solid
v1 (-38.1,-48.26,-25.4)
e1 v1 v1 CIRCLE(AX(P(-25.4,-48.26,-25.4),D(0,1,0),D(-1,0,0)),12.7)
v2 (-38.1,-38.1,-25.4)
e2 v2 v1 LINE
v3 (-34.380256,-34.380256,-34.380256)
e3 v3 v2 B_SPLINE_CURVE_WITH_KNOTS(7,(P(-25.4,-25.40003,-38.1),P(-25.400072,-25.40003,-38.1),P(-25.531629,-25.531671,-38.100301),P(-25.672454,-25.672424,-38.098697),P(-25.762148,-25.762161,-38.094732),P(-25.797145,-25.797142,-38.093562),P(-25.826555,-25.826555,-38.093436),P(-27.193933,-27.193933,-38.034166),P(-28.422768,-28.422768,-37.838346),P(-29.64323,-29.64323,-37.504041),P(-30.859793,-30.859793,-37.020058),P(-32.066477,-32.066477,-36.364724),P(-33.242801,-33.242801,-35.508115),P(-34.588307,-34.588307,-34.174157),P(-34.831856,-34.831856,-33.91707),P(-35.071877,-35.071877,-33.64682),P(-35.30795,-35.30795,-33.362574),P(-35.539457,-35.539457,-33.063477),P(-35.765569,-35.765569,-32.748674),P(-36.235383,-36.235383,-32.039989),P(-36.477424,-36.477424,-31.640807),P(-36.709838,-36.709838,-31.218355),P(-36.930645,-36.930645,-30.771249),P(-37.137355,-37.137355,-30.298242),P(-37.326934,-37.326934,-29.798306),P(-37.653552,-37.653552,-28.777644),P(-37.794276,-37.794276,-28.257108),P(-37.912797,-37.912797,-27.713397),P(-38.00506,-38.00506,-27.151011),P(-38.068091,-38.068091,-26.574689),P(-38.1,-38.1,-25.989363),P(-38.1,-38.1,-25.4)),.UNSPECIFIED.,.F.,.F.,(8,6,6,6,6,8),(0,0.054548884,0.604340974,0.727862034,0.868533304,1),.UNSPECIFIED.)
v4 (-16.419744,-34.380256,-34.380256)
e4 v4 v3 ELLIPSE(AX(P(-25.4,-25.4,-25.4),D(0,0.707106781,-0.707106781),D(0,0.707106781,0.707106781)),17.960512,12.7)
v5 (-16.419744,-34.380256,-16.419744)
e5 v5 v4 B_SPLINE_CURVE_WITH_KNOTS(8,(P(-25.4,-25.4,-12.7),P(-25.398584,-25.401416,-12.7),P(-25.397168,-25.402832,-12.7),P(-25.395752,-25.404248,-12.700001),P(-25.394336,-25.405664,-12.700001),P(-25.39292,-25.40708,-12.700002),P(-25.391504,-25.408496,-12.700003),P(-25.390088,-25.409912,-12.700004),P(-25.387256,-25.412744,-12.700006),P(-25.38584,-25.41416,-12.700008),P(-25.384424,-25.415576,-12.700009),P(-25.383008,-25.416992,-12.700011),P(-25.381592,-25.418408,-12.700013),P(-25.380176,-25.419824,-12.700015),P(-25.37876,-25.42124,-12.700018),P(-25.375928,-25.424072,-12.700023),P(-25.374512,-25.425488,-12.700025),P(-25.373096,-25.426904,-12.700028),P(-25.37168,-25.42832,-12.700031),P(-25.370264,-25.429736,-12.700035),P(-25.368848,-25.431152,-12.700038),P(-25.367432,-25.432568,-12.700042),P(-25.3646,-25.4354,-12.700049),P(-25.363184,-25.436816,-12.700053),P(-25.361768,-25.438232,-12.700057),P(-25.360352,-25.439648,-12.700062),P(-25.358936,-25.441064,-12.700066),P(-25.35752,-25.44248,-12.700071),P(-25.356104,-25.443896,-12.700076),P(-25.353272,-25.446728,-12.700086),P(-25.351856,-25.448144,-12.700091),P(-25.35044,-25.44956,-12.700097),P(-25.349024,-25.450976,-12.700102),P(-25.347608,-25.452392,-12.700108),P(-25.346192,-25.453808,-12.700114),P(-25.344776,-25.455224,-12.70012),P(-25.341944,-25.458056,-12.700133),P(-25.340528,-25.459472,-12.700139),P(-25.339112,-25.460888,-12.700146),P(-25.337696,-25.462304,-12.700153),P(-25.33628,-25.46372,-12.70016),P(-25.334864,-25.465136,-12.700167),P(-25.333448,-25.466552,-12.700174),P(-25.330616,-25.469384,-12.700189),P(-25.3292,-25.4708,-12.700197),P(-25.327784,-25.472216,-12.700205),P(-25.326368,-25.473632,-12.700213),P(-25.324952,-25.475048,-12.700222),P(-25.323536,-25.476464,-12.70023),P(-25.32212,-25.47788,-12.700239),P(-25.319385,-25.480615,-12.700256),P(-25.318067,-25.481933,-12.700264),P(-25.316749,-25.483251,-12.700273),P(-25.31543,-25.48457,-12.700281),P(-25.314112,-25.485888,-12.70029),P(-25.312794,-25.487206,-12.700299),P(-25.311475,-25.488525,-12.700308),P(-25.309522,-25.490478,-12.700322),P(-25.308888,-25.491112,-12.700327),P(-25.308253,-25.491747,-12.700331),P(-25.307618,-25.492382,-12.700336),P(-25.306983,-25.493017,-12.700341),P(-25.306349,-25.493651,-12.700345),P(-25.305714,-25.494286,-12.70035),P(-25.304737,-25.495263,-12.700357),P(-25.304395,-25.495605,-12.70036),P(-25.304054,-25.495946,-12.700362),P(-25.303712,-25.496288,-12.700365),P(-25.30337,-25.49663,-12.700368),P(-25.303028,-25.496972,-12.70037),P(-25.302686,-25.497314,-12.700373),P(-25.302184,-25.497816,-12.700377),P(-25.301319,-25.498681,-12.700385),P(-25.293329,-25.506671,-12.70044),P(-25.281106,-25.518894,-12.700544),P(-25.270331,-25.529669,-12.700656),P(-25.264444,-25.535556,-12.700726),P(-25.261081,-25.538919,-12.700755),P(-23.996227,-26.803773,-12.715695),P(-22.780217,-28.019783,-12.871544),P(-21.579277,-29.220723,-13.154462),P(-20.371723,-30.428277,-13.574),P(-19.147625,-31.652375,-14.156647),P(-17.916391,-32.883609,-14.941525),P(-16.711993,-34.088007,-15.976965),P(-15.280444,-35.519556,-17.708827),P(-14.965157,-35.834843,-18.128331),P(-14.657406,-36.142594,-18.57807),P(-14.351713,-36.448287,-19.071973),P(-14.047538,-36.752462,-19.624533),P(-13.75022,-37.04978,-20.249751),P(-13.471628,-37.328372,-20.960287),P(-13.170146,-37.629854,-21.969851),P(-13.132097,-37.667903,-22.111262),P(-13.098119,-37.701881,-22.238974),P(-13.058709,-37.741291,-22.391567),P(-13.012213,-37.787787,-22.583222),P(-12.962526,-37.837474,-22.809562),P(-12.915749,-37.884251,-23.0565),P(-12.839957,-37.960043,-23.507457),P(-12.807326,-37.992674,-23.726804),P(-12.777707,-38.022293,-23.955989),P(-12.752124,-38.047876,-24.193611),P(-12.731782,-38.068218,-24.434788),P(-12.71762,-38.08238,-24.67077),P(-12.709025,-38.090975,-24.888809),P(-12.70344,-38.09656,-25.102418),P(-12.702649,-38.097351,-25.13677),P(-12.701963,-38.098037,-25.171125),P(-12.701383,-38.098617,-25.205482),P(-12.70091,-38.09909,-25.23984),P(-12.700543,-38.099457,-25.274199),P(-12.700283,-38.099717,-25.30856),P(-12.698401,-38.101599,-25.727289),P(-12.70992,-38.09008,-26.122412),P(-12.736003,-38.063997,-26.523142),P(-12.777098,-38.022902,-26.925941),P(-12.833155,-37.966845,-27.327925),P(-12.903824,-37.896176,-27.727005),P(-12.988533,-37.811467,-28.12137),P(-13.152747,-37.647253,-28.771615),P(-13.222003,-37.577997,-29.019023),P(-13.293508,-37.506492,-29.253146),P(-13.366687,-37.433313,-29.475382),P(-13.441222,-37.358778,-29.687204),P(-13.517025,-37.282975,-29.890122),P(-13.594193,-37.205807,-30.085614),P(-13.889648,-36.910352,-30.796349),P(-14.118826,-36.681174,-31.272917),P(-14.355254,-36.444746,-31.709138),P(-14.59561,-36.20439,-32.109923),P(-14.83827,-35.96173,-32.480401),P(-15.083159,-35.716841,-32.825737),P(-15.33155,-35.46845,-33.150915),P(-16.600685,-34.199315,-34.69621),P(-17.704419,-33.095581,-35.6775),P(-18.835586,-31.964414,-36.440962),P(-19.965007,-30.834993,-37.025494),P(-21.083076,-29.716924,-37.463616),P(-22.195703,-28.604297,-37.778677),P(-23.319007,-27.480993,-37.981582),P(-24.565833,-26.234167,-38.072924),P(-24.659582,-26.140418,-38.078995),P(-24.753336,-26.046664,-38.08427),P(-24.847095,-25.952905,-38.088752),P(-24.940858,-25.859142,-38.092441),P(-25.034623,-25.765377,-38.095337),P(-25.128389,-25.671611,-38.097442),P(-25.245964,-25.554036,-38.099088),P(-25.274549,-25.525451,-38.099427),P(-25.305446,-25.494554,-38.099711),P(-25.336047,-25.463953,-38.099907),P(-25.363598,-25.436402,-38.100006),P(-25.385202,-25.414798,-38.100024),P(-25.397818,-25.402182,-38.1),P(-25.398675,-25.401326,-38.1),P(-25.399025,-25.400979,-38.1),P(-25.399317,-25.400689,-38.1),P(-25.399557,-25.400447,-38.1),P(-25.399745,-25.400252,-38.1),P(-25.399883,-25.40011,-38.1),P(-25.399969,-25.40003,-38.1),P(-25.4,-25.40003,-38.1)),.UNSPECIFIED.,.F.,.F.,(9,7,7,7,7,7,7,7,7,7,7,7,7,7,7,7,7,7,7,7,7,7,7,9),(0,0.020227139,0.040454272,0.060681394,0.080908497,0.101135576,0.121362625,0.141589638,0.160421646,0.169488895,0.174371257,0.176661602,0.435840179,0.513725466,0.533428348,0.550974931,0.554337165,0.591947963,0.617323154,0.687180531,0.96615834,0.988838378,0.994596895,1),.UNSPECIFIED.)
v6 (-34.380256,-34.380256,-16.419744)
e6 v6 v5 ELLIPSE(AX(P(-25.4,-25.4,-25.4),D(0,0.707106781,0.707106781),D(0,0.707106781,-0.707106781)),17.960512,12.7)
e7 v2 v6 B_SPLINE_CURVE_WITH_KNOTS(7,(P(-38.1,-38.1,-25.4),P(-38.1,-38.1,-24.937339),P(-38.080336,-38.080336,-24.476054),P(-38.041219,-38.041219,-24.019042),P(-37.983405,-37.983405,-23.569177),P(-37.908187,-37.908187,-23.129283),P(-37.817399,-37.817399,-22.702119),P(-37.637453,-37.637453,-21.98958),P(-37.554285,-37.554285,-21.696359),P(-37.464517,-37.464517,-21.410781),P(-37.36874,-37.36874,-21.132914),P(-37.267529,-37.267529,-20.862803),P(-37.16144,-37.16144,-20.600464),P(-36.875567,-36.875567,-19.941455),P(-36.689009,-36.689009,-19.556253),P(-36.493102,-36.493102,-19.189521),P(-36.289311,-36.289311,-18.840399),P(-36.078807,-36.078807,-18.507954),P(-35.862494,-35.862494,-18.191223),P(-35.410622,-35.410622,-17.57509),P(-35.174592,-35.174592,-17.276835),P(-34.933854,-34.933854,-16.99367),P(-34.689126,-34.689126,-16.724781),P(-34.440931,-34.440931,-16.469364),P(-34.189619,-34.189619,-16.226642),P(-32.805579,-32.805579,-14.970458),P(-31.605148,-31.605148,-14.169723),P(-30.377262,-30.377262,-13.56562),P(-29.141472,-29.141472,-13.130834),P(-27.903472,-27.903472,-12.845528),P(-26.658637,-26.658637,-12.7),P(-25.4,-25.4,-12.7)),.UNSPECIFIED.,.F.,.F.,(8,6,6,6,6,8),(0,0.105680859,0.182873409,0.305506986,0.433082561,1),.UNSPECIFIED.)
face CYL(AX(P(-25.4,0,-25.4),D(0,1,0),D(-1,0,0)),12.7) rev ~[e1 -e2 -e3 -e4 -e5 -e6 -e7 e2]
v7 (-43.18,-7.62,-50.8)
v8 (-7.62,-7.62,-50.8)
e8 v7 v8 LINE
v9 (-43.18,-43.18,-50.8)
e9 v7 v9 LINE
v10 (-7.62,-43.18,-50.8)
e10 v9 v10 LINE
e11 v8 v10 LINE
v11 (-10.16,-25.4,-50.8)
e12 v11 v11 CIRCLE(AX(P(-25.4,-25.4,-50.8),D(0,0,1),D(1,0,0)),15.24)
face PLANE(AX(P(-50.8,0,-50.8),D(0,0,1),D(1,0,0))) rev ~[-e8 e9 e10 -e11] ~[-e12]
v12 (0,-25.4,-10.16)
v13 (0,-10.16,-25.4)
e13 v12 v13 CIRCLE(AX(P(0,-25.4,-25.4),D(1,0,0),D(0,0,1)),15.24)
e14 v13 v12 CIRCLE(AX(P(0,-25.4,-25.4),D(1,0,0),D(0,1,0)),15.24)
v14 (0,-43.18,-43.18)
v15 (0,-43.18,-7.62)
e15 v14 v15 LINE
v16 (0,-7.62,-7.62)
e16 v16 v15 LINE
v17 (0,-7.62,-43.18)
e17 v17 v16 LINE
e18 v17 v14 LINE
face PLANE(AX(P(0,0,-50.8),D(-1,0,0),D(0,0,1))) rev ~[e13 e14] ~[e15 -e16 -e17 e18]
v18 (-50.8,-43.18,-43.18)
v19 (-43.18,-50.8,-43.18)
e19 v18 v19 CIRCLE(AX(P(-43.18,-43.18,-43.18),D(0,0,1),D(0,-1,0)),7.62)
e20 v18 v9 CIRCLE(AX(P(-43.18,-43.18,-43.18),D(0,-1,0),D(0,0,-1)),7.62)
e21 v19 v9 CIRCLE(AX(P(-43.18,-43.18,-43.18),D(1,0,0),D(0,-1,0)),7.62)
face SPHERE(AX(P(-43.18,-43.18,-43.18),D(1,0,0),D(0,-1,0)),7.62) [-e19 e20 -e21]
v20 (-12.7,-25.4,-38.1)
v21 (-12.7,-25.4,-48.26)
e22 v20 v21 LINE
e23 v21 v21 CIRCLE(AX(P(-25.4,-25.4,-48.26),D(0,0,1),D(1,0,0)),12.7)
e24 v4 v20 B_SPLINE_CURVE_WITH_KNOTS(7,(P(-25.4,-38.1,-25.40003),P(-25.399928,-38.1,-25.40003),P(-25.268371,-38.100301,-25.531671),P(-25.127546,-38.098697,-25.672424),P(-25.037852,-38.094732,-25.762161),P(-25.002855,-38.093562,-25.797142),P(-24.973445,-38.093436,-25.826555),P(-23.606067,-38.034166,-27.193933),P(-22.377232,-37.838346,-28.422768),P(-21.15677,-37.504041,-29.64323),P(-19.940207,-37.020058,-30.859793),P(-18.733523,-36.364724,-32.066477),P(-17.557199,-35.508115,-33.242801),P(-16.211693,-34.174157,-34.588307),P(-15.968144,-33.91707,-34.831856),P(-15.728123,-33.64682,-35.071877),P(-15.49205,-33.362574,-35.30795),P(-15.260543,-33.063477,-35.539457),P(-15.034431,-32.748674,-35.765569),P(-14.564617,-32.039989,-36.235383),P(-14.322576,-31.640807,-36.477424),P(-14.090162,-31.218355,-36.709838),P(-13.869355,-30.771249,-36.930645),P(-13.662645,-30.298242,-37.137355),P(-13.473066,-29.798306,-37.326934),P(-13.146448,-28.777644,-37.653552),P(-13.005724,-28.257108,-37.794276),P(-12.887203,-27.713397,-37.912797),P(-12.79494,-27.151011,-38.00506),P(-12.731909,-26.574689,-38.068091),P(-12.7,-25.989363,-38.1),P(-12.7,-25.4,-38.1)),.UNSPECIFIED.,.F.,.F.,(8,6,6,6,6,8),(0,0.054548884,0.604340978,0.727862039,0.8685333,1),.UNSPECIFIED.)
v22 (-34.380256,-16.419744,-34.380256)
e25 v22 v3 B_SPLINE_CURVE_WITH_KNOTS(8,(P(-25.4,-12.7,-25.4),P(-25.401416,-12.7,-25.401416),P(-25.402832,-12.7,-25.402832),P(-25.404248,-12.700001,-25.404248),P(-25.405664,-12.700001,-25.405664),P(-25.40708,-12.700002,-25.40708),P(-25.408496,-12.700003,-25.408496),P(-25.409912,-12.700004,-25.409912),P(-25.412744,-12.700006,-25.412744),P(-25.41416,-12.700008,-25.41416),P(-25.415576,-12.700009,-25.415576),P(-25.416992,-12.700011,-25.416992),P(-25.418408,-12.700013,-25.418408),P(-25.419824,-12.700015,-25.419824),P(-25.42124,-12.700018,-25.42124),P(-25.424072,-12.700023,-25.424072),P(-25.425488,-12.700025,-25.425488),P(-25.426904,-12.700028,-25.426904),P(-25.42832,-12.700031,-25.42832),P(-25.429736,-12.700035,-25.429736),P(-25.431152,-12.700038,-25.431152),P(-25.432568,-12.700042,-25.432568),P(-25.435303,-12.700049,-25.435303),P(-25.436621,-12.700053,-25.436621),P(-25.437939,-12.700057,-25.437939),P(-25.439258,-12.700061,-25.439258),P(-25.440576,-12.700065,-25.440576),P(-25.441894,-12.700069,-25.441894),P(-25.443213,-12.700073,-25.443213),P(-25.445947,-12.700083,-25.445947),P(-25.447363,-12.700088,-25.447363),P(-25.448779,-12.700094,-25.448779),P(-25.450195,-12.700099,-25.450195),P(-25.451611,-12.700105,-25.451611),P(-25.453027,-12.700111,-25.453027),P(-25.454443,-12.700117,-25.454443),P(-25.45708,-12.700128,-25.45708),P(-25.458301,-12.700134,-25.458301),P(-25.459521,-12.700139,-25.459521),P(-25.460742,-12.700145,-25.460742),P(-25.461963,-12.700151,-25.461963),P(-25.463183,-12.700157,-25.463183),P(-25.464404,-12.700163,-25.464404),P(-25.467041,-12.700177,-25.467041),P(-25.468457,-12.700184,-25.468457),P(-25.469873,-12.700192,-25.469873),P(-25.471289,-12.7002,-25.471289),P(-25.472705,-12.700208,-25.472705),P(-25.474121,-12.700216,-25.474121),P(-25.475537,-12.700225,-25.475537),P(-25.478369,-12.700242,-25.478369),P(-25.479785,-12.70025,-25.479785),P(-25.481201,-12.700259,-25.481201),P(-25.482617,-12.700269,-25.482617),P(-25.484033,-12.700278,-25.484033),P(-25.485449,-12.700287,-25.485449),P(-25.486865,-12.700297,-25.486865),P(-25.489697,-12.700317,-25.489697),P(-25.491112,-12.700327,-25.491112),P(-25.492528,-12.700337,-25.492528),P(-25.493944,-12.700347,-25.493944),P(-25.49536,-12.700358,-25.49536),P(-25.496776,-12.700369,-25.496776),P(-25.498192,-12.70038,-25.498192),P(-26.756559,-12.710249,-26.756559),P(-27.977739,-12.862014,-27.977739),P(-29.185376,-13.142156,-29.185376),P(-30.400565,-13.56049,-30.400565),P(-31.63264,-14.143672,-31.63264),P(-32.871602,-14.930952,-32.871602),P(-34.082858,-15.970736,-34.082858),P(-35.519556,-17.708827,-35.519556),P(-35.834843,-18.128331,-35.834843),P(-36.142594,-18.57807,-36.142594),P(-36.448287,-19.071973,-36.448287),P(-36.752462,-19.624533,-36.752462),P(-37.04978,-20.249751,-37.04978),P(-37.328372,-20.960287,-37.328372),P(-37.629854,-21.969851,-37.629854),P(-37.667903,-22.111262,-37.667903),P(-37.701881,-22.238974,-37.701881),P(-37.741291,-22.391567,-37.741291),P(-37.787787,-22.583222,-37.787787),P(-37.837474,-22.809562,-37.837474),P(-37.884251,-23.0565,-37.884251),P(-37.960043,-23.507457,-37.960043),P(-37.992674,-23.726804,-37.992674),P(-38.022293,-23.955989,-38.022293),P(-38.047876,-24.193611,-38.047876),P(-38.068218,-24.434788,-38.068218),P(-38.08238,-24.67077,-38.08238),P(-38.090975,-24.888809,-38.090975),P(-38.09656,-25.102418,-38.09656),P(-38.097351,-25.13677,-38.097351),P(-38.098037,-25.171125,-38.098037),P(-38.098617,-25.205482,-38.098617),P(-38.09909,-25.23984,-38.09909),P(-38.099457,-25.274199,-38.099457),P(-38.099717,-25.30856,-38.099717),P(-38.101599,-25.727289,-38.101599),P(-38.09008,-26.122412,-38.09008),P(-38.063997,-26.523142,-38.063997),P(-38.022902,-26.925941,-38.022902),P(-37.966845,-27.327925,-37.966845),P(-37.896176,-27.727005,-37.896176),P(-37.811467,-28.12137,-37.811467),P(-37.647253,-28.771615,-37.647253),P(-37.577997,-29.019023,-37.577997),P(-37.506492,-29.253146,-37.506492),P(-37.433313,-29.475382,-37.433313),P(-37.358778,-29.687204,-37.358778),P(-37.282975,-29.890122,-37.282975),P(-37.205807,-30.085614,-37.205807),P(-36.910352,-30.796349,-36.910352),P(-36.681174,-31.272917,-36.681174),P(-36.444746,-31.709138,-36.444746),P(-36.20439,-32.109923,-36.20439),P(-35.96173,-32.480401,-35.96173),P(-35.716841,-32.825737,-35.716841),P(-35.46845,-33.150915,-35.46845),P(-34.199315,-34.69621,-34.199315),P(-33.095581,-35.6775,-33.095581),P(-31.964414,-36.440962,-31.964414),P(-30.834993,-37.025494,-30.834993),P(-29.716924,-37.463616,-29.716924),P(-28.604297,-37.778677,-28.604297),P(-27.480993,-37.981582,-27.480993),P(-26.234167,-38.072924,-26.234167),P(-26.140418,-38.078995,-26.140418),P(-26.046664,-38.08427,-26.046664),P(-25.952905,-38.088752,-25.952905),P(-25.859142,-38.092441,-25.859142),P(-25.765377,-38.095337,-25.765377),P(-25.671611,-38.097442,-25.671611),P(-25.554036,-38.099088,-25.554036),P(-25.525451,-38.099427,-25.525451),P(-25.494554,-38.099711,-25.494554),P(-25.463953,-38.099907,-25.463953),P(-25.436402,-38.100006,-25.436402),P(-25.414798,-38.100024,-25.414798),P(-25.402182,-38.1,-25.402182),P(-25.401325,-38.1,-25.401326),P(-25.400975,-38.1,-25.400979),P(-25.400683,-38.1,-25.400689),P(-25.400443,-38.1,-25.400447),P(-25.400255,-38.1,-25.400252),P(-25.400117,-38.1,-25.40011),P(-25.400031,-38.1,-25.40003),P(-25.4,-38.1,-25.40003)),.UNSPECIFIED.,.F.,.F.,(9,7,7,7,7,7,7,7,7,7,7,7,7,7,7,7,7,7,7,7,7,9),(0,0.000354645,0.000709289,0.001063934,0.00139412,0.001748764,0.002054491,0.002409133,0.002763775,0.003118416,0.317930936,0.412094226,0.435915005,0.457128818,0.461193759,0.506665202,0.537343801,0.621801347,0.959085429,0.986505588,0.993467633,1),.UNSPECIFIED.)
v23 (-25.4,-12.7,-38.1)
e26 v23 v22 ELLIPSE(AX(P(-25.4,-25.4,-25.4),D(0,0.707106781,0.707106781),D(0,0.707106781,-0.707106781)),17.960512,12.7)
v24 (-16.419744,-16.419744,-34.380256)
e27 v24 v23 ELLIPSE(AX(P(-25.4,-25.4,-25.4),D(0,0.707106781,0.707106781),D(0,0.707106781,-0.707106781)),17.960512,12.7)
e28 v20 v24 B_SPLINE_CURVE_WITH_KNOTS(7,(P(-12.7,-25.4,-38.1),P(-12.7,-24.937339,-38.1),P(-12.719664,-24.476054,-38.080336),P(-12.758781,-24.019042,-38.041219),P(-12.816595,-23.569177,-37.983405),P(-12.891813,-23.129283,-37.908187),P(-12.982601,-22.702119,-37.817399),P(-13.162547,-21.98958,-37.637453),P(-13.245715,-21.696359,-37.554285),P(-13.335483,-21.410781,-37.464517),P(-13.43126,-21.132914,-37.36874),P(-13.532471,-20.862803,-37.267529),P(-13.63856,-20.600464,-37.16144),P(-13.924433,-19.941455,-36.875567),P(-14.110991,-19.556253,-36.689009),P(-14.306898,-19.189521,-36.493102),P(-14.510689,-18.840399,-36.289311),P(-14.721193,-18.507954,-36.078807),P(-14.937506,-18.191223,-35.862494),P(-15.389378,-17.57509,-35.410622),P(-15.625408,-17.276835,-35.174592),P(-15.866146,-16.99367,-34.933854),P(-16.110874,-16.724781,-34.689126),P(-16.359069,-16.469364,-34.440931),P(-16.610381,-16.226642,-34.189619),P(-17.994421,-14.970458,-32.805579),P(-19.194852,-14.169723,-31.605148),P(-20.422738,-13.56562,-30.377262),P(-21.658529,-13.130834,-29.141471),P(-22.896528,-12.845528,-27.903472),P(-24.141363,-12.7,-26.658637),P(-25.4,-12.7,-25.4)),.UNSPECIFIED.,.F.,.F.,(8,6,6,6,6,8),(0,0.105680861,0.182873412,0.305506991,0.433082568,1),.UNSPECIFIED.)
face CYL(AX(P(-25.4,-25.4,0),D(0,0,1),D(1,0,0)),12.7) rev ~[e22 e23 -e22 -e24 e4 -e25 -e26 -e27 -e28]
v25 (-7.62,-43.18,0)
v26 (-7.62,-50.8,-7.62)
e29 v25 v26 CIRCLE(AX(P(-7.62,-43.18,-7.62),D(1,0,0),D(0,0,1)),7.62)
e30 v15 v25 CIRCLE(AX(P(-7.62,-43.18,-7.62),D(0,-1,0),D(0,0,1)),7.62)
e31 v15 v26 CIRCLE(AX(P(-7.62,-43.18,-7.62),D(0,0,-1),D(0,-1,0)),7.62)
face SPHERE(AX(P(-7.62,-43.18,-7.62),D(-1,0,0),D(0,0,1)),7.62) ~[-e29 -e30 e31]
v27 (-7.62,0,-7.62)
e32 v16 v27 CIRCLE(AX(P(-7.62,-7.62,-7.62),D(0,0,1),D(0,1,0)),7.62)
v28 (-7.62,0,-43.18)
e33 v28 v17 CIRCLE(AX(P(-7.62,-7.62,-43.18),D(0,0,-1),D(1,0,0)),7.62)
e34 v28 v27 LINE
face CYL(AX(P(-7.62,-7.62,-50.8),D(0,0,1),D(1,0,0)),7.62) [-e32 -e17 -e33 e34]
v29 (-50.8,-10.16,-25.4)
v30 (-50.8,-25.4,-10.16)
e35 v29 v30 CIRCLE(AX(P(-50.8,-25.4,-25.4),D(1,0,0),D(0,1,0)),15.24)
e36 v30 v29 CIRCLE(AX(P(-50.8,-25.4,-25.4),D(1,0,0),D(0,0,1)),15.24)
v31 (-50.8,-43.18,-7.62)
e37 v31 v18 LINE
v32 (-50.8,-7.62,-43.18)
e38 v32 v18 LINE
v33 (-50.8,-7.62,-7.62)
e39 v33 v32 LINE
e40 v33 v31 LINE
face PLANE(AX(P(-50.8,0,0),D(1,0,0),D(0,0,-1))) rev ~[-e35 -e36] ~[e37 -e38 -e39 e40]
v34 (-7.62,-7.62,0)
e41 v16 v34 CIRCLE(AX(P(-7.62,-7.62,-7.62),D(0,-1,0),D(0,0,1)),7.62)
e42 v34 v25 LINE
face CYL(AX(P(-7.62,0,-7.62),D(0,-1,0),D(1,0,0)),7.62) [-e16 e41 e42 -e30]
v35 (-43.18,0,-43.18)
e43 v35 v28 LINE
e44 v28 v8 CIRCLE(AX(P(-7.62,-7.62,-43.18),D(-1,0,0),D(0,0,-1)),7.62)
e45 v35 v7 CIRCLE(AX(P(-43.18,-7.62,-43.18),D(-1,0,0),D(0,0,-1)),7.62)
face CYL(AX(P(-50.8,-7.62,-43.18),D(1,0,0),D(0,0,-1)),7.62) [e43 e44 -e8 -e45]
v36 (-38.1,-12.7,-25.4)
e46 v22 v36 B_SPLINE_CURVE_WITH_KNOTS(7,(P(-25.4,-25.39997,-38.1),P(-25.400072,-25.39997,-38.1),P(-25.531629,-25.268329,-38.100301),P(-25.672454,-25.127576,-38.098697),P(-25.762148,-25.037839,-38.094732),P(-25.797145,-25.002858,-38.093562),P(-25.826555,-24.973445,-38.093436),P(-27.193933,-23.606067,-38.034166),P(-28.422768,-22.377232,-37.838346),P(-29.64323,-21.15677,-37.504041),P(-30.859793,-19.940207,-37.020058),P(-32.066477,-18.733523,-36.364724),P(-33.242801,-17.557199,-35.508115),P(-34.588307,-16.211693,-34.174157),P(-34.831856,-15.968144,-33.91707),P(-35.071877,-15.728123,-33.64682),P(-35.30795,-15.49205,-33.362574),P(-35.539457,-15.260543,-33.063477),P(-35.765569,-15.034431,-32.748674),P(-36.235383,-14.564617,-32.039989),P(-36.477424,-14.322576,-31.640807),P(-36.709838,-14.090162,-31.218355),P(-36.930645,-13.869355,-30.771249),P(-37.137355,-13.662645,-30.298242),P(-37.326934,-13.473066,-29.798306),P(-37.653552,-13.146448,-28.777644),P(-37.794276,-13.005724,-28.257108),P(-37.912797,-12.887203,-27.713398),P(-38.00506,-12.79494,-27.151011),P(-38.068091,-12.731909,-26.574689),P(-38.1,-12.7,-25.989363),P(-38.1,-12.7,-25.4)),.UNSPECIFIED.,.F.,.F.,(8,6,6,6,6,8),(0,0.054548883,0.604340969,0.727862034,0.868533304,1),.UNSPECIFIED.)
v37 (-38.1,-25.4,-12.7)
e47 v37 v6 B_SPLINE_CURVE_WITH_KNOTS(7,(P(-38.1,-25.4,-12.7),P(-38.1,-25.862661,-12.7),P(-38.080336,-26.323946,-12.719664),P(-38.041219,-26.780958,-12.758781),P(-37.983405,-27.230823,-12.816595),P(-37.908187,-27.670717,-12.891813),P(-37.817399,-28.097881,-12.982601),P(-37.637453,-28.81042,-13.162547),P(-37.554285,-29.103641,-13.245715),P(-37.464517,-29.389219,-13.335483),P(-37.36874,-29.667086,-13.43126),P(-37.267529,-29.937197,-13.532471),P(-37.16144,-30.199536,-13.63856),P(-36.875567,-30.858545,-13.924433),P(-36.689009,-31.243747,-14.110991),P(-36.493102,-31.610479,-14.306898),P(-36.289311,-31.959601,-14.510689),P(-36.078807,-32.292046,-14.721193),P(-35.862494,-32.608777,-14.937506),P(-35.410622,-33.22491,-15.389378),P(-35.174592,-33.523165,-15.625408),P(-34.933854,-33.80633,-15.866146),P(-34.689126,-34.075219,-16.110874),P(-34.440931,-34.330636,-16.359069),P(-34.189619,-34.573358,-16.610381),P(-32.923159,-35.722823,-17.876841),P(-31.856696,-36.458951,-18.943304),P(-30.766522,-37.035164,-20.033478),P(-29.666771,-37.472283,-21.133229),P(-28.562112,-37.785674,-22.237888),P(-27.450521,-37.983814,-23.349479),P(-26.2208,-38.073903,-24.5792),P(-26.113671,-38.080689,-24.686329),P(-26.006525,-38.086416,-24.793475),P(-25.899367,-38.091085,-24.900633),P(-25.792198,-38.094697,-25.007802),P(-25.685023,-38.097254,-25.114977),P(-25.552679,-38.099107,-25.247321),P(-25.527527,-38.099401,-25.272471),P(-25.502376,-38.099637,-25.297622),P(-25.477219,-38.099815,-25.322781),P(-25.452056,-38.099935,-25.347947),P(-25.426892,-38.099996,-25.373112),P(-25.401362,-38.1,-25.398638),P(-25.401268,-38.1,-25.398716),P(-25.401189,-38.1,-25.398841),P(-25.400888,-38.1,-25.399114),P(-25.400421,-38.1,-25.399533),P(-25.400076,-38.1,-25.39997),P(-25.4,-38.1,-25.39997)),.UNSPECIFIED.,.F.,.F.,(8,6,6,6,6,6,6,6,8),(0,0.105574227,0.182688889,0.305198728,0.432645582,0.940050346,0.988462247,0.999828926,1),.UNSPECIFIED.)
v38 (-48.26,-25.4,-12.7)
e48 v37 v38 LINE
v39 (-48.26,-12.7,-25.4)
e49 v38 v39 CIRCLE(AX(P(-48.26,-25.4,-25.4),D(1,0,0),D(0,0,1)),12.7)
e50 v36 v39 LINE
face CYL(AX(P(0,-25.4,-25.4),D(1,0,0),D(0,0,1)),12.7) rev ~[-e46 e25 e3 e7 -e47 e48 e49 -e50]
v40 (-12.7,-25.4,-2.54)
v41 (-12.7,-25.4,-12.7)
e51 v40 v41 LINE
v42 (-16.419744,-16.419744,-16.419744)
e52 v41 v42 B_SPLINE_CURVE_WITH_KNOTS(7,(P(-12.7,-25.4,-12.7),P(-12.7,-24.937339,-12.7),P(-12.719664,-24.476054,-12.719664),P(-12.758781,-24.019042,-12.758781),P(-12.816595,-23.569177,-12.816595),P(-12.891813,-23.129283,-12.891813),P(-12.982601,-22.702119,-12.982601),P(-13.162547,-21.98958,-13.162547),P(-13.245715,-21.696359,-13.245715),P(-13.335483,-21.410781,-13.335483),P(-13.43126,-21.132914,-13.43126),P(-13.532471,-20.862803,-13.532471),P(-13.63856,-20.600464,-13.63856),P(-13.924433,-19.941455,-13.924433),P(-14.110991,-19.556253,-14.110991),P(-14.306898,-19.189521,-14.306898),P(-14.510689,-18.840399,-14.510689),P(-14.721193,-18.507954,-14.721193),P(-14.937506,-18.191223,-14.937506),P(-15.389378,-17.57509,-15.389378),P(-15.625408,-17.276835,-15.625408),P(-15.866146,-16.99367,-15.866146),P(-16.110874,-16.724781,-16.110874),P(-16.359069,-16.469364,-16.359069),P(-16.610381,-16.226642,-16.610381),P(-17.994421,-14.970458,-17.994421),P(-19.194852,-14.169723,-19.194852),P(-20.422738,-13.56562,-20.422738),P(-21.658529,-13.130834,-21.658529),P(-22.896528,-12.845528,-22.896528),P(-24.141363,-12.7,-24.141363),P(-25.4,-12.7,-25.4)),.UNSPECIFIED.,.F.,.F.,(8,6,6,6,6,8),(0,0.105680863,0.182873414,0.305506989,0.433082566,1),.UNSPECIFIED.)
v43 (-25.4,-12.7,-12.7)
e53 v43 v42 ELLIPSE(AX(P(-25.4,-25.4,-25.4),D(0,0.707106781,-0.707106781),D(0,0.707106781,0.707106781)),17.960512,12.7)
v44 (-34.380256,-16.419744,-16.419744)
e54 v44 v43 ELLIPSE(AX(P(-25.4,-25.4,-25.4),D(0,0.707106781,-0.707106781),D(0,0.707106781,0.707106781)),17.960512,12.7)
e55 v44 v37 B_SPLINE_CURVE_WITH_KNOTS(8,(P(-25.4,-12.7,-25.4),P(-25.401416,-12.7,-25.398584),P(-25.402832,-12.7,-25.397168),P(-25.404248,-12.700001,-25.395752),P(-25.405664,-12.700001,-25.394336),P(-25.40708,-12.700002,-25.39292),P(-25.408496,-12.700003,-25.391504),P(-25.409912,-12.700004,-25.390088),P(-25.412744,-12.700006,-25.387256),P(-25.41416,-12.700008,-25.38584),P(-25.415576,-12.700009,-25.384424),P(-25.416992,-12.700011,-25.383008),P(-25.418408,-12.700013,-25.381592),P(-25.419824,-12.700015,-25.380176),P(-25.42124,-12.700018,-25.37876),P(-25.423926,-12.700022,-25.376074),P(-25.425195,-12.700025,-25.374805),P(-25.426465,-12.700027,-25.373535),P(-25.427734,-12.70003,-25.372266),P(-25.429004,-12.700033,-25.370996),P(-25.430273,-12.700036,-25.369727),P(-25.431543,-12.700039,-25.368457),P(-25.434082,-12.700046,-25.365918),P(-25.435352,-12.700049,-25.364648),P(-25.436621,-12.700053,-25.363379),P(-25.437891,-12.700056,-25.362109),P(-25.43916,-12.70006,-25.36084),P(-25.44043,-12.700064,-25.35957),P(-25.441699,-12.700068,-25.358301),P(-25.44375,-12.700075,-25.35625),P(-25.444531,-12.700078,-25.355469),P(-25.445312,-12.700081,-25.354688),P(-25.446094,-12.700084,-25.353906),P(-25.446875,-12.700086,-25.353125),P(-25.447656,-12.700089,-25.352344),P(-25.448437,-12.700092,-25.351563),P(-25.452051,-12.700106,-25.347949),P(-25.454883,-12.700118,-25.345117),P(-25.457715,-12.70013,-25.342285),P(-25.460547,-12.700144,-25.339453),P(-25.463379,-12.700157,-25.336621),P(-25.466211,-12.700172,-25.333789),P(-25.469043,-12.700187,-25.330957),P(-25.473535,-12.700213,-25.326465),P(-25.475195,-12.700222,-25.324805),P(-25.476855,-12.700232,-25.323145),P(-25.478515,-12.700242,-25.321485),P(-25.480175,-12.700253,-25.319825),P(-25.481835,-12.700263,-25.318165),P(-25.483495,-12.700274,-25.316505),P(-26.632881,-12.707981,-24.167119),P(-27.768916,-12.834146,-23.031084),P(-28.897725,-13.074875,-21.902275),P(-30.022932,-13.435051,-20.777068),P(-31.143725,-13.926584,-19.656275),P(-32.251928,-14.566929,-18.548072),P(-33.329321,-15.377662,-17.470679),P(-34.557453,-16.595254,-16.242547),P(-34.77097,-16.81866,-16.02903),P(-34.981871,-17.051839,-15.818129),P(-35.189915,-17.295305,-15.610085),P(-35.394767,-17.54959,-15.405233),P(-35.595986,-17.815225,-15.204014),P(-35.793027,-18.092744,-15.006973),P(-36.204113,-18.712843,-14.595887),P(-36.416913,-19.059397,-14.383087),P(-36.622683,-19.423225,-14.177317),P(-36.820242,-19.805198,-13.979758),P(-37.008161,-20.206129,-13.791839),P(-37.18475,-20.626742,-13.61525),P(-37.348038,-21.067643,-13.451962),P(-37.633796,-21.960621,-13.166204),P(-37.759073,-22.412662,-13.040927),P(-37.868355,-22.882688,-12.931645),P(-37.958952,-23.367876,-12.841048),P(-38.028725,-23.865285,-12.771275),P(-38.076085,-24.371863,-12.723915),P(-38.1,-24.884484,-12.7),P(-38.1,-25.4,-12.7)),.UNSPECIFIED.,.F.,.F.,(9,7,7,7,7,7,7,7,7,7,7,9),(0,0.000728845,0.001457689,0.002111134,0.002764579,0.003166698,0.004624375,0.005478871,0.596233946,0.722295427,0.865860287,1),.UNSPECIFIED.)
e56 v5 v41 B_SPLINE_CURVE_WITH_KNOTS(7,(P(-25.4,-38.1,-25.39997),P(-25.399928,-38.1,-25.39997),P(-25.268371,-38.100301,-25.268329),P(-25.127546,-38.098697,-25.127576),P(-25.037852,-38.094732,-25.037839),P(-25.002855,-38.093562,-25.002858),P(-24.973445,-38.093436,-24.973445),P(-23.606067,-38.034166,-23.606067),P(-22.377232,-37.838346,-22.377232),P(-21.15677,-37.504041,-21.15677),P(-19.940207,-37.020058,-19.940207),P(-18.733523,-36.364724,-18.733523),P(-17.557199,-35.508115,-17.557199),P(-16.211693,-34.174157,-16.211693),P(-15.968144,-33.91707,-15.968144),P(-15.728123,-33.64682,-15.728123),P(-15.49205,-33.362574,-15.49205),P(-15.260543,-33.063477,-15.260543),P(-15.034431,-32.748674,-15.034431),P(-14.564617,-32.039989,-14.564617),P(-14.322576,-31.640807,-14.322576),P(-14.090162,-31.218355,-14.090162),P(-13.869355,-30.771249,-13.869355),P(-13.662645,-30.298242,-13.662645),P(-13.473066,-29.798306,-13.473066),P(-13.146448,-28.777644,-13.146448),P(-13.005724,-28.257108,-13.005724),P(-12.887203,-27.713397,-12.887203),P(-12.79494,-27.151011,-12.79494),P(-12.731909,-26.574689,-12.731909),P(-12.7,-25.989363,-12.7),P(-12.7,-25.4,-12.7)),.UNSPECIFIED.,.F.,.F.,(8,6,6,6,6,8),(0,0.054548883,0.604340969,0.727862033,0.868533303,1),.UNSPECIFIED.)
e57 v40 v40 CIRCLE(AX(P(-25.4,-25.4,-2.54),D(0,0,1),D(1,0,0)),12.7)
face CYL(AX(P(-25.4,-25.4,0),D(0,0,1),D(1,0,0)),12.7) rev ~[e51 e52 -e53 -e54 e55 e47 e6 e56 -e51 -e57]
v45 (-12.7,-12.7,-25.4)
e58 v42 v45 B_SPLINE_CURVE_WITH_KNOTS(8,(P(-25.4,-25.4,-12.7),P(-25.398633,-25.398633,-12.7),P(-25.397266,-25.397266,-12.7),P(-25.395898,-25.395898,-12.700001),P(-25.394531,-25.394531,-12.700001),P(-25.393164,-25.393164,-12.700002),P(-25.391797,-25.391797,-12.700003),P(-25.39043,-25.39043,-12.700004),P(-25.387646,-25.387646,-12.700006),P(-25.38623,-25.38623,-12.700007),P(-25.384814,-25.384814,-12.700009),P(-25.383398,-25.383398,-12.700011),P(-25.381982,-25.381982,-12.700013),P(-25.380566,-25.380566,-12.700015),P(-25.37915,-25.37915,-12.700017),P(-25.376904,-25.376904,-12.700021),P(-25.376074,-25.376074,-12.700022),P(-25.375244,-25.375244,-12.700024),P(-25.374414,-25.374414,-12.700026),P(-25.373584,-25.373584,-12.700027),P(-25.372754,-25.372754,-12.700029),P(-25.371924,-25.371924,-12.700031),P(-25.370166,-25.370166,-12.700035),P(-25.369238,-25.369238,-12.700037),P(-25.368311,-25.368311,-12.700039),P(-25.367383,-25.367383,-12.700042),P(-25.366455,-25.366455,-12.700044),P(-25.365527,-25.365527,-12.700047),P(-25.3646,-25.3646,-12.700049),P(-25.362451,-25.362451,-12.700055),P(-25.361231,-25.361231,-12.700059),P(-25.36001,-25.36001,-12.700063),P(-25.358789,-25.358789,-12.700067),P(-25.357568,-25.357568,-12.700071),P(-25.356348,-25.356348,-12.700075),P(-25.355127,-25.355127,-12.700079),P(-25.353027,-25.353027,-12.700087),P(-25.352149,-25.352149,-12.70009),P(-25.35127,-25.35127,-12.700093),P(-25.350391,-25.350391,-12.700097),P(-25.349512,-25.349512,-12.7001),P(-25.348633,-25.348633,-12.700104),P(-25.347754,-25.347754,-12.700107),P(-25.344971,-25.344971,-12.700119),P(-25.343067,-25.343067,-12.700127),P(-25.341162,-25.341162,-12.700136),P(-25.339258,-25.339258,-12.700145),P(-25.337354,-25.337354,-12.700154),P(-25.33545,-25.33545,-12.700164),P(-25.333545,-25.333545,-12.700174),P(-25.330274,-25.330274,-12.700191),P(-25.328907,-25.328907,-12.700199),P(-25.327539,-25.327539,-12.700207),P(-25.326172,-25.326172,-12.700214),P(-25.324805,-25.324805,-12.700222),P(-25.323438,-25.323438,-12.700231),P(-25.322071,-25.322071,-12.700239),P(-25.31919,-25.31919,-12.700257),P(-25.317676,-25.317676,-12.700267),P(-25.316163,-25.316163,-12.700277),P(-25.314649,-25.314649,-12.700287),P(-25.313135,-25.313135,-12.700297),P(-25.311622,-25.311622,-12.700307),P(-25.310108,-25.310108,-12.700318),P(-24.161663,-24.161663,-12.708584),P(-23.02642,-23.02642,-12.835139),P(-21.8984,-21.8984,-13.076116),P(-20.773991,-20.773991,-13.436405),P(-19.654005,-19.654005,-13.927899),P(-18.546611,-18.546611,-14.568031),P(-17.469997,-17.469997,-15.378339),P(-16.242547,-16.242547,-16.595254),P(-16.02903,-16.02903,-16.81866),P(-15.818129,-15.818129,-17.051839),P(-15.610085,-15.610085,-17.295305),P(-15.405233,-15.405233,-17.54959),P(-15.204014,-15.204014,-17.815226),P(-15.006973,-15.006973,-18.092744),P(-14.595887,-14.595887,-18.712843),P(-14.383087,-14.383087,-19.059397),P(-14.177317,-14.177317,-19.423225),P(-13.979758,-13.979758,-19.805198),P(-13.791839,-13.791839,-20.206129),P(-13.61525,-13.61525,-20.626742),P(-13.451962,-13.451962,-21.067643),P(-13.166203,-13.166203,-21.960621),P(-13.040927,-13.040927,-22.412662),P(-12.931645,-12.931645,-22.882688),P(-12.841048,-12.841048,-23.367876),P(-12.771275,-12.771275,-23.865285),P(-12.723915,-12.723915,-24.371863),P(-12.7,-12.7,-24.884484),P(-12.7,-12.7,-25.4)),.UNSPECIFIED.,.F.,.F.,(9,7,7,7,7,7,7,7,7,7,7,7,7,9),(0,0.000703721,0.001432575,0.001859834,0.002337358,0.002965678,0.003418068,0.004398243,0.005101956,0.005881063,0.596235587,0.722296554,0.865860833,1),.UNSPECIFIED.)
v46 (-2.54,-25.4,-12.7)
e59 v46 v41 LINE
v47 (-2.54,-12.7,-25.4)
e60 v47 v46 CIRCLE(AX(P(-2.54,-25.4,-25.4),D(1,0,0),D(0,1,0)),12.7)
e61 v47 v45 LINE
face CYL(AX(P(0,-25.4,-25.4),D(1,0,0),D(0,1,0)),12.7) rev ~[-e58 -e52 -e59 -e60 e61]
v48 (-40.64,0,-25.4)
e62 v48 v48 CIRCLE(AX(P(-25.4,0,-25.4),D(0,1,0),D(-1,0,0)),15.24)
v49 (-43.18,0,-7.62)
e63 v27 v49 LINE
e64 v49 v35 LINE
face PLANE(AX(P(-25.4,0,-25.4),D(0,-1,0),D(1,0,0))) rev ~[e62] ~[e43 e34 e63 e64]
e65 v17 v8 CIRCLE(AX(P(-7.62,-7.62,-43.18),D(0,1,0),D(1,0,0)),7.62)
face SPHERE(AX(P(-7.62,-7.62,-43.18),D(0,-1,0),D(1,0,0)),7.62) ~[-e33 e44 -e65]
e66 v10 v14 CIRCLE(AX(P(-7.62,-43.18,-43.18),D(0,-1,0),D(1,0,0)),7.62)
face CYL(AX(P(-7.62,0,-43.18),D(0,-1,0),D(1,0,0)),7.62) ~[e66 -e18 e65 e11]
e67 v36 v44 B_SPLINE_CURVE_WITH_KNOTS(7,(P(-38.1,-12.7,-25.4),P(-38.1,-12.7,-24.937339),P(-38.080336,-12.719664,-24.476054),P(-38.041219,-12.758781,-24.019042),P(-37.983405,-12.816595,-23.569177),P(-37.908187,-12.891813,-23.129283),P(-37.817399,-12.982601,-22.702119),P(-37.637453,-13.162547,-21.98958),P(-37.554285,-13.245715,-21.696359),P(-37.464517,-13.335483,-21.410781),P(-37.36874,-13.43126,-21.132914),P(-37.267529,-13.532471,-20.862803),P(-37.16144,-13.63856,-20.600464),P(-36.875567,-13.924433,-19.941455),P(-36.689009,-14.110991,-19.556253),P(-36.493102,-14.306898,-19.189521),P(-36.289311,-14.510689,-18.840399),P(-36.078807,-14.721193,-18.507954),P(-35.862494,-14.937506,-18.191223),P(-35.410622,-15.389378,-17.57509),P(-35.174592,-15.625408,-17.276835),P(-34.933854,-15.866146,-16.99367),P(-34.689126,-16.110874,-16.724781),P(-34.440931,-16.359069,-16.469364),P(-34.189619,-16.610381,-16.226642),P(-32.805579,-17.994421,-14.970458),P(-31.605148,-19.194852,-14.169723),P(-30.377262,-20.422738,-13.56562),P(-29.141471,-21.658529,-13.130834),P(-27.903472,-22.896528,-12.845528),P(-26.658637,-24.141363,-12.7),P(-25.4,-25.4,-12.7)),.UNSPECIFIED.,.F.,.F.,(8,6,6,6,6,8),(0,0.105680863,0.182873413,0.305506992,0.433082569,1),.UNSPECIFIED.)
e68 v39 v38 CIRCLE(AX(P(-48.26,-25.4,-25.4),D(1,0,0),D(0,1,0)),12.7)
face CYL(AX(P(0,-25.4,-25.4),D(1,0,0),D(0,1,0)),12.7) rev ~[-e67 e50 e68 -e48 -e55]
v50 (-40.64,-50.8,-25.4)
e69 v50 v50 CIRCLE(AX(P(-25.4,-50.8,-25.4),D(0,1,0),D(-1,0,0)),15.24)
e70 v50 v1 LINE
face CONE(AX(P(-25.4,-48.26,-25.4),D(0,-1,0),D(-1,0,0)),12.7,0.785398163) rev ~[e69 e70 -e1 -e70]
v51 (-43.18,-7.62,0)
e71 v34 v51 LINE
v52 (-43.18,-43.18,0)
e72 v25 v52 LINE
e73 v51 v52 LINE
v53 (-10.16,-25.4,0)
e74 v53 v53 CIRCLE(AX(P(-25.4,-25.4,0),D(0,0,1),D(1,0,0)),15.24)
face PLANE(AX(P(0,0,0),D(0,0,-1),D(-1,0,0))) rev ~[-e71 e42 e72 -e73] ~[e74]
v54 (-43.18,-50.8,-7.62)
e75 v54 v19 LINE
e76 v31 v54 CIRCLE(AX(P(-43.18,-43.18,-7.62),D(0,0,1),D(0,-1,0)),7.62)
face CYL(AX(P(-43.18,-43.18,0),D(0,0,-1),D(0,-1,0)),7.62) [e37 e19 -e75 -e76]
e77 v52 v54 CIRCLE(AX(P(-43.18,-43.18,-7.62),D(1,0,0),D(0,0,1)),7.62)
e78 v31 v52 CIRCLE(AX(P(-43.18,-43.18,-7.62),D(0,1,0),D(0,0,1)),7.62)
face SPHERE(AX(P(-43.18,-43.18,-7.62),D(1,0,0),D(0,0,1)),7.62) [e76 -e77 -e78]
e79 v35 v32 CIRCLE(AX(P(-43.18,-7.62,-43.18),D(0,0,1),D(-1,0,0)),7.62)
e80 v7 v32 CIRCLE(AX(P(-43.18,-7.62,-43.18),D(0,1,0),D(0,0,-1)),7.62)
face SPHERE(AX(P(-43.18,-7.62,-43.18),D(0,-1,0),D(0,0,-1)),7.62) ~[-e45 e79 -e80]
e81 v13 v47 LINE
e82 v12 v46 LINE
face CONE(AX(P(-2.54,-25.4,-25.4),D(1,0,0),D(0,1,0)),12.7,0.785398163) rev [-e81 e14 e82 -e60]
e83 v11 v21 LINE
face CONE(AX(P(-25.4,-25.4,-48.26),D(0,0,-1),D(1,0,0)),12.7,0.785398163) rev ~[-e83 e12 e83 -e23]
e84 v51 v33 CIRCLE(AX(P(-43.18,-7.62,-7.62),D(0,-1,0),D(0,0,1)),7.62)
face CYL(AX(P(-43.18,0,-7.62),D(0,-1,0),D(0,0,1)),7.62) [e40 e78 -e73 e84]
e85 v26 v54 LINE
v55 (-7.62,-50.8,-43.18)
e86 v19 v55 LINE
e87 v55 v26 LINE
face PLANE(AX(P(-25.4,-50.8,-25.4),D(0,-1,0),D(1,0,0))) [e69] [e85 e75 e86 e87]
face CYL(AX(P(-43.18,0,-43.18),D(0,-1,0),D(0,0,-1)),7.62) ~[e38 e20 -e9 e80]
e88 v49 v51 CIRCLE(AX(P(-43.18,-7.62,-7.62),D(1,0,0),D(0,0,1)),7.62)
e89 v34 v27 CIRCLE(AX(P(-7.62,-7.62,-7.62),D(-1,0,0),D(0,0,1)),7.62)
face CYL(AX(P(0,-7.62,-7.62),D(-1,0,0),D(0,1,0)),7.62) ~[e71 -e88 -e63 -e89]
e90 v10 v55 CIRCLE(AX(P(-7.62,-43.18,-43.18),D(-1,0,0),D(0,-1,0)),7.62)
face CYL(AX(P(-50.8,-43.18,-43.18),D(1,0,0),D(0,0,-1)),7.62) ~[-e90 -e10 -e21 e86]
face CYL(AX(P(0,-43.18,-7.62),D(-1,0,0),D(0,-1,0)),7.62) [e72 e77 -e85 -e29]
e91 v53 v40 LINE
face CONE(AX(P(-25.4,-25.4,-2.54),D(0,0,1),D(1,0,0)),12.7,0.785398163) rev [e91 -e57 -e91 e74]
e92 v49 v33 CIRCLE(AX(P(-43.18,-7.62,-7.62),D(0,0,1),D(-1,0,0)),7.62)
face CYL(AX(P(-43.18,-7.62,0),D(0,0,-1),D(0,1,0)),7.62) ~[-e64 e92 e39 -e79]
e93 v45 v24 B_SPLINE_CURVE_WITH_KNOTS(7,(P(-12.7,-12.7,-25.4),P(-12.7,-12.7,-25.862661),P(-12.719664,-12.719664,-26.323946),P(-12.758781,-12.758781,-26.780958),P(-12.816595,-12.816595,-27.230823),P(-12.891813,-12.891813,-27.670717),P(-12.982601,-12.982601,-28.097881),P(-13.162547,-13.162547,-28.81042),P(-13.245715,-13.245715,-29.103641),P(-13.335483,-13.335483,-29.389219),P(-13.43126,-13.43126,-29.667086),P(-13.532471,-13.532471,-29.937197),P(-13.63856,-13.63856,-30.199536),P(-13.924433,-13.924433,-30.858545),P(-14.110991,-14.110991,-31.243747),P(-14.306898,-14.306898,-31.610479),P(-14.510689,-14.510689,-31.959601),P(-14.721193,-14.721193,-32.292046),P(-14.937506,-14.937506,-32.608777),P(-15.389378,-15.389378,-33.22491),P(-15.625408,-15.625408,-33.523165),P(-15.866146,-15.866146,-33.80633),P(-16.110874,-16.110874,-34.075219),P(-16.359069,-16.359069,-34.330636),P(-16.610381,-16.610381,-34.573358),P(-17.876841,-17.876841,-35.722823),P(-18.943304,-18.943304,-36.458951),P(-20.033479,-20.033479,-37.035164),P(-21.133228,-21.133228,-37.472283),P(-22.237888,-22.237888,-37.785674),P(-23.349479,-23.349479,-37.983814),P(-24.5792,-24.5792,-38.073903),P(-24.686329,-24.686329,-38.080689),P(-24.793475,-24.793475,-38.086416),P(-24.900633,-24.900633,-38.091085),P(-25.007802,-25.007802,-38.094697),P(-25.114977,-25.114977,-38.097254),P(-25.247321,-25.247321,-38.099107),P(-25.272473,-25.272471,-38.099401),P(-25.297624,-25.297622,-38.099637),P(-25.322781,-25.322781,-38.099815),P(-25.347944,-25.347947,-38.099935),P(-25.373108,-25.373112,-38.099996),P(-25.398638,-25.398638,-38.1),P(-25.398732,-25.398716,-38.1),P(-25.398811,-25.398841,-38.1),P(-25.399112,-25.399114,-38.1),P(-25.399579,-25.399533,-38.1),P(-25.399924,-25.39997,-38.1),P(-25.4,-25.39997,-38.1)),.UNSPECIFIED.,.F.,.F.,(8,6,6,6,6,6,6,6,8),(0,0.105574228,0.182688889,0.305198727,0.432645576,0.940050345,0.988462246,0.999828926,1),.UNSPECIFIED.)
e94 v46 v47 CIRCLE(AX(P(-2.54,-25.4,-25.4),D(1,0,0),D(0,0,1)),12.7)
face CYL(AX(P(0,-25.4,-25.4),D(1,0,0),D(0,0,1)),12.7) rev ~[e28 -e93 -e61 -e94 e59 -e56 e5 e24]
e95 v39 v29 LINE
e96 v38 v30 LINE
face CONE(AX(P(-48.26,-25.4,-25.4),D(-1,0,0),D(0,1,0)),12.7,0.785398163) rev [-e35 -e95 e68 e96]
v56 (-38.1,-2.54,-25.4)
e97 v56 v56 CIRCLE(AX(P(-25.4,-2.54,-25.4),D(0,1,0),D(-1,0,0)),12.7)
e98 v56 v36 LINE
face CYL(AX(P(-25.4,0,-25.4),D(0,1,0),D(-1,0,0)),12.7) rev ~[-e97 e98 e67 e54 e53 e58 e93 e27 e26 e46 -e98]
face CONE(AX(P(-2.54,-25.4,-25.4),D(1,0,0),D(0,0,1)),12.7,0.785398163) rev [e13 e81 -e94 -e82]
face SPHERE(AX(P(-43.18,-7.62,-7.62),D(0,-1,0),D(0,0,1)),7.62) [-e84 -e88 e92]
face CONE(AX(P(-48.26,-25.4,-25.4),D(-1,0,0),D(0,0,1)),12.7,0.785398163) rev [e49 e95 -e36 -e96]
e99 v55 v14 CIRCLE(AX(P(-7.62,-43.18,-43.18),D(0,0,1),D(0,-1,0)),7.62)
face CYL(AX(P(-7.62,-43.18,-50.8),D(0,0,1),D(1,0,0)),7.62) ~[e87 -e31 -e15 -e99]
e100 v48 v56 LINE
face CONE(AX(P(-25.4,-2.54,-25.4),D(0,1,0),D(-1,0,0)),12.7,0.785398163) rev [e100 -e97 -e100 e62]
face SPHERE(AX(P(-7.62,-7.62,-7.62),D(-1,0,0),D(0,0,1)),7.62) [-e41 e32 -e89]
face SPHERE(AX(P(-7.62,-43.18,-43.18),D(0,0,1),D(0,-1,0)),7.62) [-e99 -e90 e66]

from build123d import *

# Parameters (mm, degrees)
F1_DEPTH = 50.8
F2_DEPTH = 50.8
F4_DEPTH = 80.772
F6_DEPTH = 101.346
F7_R     = 7.62
F8_SIZE  = 2.54


with BuildPart() as f1:
    # F0 (on Front) → F1 (new body)
    with BuildSketch(Plane.XZ):
        Polygon((0, -50.8), (0, 0), (-50.8, 0), (-50.8, -25.4), (-50.8, -50.8), align=None)
        with BuildLine():
            ThreePointArc((-12.7, -25.4), (-25.4, -38.1), (-38.1, -25.4))
            ThreePointArc((-38.1, -25.4), (-25.4, -12.7), (-12.7, -25.4))
        make_face(mode=Mode.SUBTRACT)
    extrude(amount=F1_DEPTH)

    # F0 (on Front) → F2 (join)
    with BuildSketch(Plane.XZ):
        Polygon((0, -50.8), (0, 0), (-50.8, 0), (-50.8, -25.4), (-50.8, -50.8), align=None)
        with BuildLine():
            ThreePointArc((-12.7, -25.4), (-25.4, -38.1), (-38.1, -25.4))
            ThreePointArc((-38.1, -25.4), (-25.4, -12.7), (-12.7, -25.4))
        make_face(mode=Mode.SUBTRACT)
    extrude(amount=F2_DEPTH)

    # F3 (on face) → F4 (cut)
    with BuildSketch(Plane.XY):
        with BuildLine():
            ThreePointArc((-38.1, -25.4), (-25.4, -38.1), (-12.7, -25.4))
            ThreePointArc((-12.7, -25.4), (-25.4, -12.7), (-38.1, -25.4))
        make_face()
    extrude(amount=-F4_DEPTH, mode=Mode.SUBTRACT)

    # F5 (on face) → F6 (cut)
    with BuildSketch(Plane.YZ):
        with BuildLine():
            ThreePointArc((-25.4, -12.7), (-34.3802561211, -34.3802561211), (-12.7, -25.4))
            ThreePointArc((-12.7, -25.4), (-16.4197438789, -16.4197438789), (-25.4, -12.7))
        make_face()
    extrude(amount=-F6_DEPTH, mode=Mode.SUBTRACT)

    # F7
    f7_edges = [f1.edges().sort_by_distance(p)[0] for p in [
        (-25.4, -50.8, 0),
        (-50.8, -25.4, 0),
        (-25.4, 0, 0),
        (0, -25.4, 0),
        (0, -50.8, -25.4),
        (-25.4, -50.8, -50.8),
        (0, -25.4, -50.8),
        (0, 0, -25.4),
        (-50.8, -50.8, -25.4),
        (-50.8, -25.4, -50.8),
        (-25.4, 0, -50.8),
        (-50.8, 0, -25.4),
    ]]
    fillet(f7_edges, radius=F7_R)

    # F8
    f8_edges = [f1.edges().sort_by_distance(p)[0] for p in [
        (-38.1, -25.4, 0),
        (-38.1, -50.8, -25.4),
        (0, -38.1, -25.4),
        (-38.1, 0, -25.4),
        (-50.8, -38.1, -25.4),
        (-38.1, -25.4, -50.8),
    ]]
    chamfer(f8_edges, length=F8_SIZE)


solid = f1.part
